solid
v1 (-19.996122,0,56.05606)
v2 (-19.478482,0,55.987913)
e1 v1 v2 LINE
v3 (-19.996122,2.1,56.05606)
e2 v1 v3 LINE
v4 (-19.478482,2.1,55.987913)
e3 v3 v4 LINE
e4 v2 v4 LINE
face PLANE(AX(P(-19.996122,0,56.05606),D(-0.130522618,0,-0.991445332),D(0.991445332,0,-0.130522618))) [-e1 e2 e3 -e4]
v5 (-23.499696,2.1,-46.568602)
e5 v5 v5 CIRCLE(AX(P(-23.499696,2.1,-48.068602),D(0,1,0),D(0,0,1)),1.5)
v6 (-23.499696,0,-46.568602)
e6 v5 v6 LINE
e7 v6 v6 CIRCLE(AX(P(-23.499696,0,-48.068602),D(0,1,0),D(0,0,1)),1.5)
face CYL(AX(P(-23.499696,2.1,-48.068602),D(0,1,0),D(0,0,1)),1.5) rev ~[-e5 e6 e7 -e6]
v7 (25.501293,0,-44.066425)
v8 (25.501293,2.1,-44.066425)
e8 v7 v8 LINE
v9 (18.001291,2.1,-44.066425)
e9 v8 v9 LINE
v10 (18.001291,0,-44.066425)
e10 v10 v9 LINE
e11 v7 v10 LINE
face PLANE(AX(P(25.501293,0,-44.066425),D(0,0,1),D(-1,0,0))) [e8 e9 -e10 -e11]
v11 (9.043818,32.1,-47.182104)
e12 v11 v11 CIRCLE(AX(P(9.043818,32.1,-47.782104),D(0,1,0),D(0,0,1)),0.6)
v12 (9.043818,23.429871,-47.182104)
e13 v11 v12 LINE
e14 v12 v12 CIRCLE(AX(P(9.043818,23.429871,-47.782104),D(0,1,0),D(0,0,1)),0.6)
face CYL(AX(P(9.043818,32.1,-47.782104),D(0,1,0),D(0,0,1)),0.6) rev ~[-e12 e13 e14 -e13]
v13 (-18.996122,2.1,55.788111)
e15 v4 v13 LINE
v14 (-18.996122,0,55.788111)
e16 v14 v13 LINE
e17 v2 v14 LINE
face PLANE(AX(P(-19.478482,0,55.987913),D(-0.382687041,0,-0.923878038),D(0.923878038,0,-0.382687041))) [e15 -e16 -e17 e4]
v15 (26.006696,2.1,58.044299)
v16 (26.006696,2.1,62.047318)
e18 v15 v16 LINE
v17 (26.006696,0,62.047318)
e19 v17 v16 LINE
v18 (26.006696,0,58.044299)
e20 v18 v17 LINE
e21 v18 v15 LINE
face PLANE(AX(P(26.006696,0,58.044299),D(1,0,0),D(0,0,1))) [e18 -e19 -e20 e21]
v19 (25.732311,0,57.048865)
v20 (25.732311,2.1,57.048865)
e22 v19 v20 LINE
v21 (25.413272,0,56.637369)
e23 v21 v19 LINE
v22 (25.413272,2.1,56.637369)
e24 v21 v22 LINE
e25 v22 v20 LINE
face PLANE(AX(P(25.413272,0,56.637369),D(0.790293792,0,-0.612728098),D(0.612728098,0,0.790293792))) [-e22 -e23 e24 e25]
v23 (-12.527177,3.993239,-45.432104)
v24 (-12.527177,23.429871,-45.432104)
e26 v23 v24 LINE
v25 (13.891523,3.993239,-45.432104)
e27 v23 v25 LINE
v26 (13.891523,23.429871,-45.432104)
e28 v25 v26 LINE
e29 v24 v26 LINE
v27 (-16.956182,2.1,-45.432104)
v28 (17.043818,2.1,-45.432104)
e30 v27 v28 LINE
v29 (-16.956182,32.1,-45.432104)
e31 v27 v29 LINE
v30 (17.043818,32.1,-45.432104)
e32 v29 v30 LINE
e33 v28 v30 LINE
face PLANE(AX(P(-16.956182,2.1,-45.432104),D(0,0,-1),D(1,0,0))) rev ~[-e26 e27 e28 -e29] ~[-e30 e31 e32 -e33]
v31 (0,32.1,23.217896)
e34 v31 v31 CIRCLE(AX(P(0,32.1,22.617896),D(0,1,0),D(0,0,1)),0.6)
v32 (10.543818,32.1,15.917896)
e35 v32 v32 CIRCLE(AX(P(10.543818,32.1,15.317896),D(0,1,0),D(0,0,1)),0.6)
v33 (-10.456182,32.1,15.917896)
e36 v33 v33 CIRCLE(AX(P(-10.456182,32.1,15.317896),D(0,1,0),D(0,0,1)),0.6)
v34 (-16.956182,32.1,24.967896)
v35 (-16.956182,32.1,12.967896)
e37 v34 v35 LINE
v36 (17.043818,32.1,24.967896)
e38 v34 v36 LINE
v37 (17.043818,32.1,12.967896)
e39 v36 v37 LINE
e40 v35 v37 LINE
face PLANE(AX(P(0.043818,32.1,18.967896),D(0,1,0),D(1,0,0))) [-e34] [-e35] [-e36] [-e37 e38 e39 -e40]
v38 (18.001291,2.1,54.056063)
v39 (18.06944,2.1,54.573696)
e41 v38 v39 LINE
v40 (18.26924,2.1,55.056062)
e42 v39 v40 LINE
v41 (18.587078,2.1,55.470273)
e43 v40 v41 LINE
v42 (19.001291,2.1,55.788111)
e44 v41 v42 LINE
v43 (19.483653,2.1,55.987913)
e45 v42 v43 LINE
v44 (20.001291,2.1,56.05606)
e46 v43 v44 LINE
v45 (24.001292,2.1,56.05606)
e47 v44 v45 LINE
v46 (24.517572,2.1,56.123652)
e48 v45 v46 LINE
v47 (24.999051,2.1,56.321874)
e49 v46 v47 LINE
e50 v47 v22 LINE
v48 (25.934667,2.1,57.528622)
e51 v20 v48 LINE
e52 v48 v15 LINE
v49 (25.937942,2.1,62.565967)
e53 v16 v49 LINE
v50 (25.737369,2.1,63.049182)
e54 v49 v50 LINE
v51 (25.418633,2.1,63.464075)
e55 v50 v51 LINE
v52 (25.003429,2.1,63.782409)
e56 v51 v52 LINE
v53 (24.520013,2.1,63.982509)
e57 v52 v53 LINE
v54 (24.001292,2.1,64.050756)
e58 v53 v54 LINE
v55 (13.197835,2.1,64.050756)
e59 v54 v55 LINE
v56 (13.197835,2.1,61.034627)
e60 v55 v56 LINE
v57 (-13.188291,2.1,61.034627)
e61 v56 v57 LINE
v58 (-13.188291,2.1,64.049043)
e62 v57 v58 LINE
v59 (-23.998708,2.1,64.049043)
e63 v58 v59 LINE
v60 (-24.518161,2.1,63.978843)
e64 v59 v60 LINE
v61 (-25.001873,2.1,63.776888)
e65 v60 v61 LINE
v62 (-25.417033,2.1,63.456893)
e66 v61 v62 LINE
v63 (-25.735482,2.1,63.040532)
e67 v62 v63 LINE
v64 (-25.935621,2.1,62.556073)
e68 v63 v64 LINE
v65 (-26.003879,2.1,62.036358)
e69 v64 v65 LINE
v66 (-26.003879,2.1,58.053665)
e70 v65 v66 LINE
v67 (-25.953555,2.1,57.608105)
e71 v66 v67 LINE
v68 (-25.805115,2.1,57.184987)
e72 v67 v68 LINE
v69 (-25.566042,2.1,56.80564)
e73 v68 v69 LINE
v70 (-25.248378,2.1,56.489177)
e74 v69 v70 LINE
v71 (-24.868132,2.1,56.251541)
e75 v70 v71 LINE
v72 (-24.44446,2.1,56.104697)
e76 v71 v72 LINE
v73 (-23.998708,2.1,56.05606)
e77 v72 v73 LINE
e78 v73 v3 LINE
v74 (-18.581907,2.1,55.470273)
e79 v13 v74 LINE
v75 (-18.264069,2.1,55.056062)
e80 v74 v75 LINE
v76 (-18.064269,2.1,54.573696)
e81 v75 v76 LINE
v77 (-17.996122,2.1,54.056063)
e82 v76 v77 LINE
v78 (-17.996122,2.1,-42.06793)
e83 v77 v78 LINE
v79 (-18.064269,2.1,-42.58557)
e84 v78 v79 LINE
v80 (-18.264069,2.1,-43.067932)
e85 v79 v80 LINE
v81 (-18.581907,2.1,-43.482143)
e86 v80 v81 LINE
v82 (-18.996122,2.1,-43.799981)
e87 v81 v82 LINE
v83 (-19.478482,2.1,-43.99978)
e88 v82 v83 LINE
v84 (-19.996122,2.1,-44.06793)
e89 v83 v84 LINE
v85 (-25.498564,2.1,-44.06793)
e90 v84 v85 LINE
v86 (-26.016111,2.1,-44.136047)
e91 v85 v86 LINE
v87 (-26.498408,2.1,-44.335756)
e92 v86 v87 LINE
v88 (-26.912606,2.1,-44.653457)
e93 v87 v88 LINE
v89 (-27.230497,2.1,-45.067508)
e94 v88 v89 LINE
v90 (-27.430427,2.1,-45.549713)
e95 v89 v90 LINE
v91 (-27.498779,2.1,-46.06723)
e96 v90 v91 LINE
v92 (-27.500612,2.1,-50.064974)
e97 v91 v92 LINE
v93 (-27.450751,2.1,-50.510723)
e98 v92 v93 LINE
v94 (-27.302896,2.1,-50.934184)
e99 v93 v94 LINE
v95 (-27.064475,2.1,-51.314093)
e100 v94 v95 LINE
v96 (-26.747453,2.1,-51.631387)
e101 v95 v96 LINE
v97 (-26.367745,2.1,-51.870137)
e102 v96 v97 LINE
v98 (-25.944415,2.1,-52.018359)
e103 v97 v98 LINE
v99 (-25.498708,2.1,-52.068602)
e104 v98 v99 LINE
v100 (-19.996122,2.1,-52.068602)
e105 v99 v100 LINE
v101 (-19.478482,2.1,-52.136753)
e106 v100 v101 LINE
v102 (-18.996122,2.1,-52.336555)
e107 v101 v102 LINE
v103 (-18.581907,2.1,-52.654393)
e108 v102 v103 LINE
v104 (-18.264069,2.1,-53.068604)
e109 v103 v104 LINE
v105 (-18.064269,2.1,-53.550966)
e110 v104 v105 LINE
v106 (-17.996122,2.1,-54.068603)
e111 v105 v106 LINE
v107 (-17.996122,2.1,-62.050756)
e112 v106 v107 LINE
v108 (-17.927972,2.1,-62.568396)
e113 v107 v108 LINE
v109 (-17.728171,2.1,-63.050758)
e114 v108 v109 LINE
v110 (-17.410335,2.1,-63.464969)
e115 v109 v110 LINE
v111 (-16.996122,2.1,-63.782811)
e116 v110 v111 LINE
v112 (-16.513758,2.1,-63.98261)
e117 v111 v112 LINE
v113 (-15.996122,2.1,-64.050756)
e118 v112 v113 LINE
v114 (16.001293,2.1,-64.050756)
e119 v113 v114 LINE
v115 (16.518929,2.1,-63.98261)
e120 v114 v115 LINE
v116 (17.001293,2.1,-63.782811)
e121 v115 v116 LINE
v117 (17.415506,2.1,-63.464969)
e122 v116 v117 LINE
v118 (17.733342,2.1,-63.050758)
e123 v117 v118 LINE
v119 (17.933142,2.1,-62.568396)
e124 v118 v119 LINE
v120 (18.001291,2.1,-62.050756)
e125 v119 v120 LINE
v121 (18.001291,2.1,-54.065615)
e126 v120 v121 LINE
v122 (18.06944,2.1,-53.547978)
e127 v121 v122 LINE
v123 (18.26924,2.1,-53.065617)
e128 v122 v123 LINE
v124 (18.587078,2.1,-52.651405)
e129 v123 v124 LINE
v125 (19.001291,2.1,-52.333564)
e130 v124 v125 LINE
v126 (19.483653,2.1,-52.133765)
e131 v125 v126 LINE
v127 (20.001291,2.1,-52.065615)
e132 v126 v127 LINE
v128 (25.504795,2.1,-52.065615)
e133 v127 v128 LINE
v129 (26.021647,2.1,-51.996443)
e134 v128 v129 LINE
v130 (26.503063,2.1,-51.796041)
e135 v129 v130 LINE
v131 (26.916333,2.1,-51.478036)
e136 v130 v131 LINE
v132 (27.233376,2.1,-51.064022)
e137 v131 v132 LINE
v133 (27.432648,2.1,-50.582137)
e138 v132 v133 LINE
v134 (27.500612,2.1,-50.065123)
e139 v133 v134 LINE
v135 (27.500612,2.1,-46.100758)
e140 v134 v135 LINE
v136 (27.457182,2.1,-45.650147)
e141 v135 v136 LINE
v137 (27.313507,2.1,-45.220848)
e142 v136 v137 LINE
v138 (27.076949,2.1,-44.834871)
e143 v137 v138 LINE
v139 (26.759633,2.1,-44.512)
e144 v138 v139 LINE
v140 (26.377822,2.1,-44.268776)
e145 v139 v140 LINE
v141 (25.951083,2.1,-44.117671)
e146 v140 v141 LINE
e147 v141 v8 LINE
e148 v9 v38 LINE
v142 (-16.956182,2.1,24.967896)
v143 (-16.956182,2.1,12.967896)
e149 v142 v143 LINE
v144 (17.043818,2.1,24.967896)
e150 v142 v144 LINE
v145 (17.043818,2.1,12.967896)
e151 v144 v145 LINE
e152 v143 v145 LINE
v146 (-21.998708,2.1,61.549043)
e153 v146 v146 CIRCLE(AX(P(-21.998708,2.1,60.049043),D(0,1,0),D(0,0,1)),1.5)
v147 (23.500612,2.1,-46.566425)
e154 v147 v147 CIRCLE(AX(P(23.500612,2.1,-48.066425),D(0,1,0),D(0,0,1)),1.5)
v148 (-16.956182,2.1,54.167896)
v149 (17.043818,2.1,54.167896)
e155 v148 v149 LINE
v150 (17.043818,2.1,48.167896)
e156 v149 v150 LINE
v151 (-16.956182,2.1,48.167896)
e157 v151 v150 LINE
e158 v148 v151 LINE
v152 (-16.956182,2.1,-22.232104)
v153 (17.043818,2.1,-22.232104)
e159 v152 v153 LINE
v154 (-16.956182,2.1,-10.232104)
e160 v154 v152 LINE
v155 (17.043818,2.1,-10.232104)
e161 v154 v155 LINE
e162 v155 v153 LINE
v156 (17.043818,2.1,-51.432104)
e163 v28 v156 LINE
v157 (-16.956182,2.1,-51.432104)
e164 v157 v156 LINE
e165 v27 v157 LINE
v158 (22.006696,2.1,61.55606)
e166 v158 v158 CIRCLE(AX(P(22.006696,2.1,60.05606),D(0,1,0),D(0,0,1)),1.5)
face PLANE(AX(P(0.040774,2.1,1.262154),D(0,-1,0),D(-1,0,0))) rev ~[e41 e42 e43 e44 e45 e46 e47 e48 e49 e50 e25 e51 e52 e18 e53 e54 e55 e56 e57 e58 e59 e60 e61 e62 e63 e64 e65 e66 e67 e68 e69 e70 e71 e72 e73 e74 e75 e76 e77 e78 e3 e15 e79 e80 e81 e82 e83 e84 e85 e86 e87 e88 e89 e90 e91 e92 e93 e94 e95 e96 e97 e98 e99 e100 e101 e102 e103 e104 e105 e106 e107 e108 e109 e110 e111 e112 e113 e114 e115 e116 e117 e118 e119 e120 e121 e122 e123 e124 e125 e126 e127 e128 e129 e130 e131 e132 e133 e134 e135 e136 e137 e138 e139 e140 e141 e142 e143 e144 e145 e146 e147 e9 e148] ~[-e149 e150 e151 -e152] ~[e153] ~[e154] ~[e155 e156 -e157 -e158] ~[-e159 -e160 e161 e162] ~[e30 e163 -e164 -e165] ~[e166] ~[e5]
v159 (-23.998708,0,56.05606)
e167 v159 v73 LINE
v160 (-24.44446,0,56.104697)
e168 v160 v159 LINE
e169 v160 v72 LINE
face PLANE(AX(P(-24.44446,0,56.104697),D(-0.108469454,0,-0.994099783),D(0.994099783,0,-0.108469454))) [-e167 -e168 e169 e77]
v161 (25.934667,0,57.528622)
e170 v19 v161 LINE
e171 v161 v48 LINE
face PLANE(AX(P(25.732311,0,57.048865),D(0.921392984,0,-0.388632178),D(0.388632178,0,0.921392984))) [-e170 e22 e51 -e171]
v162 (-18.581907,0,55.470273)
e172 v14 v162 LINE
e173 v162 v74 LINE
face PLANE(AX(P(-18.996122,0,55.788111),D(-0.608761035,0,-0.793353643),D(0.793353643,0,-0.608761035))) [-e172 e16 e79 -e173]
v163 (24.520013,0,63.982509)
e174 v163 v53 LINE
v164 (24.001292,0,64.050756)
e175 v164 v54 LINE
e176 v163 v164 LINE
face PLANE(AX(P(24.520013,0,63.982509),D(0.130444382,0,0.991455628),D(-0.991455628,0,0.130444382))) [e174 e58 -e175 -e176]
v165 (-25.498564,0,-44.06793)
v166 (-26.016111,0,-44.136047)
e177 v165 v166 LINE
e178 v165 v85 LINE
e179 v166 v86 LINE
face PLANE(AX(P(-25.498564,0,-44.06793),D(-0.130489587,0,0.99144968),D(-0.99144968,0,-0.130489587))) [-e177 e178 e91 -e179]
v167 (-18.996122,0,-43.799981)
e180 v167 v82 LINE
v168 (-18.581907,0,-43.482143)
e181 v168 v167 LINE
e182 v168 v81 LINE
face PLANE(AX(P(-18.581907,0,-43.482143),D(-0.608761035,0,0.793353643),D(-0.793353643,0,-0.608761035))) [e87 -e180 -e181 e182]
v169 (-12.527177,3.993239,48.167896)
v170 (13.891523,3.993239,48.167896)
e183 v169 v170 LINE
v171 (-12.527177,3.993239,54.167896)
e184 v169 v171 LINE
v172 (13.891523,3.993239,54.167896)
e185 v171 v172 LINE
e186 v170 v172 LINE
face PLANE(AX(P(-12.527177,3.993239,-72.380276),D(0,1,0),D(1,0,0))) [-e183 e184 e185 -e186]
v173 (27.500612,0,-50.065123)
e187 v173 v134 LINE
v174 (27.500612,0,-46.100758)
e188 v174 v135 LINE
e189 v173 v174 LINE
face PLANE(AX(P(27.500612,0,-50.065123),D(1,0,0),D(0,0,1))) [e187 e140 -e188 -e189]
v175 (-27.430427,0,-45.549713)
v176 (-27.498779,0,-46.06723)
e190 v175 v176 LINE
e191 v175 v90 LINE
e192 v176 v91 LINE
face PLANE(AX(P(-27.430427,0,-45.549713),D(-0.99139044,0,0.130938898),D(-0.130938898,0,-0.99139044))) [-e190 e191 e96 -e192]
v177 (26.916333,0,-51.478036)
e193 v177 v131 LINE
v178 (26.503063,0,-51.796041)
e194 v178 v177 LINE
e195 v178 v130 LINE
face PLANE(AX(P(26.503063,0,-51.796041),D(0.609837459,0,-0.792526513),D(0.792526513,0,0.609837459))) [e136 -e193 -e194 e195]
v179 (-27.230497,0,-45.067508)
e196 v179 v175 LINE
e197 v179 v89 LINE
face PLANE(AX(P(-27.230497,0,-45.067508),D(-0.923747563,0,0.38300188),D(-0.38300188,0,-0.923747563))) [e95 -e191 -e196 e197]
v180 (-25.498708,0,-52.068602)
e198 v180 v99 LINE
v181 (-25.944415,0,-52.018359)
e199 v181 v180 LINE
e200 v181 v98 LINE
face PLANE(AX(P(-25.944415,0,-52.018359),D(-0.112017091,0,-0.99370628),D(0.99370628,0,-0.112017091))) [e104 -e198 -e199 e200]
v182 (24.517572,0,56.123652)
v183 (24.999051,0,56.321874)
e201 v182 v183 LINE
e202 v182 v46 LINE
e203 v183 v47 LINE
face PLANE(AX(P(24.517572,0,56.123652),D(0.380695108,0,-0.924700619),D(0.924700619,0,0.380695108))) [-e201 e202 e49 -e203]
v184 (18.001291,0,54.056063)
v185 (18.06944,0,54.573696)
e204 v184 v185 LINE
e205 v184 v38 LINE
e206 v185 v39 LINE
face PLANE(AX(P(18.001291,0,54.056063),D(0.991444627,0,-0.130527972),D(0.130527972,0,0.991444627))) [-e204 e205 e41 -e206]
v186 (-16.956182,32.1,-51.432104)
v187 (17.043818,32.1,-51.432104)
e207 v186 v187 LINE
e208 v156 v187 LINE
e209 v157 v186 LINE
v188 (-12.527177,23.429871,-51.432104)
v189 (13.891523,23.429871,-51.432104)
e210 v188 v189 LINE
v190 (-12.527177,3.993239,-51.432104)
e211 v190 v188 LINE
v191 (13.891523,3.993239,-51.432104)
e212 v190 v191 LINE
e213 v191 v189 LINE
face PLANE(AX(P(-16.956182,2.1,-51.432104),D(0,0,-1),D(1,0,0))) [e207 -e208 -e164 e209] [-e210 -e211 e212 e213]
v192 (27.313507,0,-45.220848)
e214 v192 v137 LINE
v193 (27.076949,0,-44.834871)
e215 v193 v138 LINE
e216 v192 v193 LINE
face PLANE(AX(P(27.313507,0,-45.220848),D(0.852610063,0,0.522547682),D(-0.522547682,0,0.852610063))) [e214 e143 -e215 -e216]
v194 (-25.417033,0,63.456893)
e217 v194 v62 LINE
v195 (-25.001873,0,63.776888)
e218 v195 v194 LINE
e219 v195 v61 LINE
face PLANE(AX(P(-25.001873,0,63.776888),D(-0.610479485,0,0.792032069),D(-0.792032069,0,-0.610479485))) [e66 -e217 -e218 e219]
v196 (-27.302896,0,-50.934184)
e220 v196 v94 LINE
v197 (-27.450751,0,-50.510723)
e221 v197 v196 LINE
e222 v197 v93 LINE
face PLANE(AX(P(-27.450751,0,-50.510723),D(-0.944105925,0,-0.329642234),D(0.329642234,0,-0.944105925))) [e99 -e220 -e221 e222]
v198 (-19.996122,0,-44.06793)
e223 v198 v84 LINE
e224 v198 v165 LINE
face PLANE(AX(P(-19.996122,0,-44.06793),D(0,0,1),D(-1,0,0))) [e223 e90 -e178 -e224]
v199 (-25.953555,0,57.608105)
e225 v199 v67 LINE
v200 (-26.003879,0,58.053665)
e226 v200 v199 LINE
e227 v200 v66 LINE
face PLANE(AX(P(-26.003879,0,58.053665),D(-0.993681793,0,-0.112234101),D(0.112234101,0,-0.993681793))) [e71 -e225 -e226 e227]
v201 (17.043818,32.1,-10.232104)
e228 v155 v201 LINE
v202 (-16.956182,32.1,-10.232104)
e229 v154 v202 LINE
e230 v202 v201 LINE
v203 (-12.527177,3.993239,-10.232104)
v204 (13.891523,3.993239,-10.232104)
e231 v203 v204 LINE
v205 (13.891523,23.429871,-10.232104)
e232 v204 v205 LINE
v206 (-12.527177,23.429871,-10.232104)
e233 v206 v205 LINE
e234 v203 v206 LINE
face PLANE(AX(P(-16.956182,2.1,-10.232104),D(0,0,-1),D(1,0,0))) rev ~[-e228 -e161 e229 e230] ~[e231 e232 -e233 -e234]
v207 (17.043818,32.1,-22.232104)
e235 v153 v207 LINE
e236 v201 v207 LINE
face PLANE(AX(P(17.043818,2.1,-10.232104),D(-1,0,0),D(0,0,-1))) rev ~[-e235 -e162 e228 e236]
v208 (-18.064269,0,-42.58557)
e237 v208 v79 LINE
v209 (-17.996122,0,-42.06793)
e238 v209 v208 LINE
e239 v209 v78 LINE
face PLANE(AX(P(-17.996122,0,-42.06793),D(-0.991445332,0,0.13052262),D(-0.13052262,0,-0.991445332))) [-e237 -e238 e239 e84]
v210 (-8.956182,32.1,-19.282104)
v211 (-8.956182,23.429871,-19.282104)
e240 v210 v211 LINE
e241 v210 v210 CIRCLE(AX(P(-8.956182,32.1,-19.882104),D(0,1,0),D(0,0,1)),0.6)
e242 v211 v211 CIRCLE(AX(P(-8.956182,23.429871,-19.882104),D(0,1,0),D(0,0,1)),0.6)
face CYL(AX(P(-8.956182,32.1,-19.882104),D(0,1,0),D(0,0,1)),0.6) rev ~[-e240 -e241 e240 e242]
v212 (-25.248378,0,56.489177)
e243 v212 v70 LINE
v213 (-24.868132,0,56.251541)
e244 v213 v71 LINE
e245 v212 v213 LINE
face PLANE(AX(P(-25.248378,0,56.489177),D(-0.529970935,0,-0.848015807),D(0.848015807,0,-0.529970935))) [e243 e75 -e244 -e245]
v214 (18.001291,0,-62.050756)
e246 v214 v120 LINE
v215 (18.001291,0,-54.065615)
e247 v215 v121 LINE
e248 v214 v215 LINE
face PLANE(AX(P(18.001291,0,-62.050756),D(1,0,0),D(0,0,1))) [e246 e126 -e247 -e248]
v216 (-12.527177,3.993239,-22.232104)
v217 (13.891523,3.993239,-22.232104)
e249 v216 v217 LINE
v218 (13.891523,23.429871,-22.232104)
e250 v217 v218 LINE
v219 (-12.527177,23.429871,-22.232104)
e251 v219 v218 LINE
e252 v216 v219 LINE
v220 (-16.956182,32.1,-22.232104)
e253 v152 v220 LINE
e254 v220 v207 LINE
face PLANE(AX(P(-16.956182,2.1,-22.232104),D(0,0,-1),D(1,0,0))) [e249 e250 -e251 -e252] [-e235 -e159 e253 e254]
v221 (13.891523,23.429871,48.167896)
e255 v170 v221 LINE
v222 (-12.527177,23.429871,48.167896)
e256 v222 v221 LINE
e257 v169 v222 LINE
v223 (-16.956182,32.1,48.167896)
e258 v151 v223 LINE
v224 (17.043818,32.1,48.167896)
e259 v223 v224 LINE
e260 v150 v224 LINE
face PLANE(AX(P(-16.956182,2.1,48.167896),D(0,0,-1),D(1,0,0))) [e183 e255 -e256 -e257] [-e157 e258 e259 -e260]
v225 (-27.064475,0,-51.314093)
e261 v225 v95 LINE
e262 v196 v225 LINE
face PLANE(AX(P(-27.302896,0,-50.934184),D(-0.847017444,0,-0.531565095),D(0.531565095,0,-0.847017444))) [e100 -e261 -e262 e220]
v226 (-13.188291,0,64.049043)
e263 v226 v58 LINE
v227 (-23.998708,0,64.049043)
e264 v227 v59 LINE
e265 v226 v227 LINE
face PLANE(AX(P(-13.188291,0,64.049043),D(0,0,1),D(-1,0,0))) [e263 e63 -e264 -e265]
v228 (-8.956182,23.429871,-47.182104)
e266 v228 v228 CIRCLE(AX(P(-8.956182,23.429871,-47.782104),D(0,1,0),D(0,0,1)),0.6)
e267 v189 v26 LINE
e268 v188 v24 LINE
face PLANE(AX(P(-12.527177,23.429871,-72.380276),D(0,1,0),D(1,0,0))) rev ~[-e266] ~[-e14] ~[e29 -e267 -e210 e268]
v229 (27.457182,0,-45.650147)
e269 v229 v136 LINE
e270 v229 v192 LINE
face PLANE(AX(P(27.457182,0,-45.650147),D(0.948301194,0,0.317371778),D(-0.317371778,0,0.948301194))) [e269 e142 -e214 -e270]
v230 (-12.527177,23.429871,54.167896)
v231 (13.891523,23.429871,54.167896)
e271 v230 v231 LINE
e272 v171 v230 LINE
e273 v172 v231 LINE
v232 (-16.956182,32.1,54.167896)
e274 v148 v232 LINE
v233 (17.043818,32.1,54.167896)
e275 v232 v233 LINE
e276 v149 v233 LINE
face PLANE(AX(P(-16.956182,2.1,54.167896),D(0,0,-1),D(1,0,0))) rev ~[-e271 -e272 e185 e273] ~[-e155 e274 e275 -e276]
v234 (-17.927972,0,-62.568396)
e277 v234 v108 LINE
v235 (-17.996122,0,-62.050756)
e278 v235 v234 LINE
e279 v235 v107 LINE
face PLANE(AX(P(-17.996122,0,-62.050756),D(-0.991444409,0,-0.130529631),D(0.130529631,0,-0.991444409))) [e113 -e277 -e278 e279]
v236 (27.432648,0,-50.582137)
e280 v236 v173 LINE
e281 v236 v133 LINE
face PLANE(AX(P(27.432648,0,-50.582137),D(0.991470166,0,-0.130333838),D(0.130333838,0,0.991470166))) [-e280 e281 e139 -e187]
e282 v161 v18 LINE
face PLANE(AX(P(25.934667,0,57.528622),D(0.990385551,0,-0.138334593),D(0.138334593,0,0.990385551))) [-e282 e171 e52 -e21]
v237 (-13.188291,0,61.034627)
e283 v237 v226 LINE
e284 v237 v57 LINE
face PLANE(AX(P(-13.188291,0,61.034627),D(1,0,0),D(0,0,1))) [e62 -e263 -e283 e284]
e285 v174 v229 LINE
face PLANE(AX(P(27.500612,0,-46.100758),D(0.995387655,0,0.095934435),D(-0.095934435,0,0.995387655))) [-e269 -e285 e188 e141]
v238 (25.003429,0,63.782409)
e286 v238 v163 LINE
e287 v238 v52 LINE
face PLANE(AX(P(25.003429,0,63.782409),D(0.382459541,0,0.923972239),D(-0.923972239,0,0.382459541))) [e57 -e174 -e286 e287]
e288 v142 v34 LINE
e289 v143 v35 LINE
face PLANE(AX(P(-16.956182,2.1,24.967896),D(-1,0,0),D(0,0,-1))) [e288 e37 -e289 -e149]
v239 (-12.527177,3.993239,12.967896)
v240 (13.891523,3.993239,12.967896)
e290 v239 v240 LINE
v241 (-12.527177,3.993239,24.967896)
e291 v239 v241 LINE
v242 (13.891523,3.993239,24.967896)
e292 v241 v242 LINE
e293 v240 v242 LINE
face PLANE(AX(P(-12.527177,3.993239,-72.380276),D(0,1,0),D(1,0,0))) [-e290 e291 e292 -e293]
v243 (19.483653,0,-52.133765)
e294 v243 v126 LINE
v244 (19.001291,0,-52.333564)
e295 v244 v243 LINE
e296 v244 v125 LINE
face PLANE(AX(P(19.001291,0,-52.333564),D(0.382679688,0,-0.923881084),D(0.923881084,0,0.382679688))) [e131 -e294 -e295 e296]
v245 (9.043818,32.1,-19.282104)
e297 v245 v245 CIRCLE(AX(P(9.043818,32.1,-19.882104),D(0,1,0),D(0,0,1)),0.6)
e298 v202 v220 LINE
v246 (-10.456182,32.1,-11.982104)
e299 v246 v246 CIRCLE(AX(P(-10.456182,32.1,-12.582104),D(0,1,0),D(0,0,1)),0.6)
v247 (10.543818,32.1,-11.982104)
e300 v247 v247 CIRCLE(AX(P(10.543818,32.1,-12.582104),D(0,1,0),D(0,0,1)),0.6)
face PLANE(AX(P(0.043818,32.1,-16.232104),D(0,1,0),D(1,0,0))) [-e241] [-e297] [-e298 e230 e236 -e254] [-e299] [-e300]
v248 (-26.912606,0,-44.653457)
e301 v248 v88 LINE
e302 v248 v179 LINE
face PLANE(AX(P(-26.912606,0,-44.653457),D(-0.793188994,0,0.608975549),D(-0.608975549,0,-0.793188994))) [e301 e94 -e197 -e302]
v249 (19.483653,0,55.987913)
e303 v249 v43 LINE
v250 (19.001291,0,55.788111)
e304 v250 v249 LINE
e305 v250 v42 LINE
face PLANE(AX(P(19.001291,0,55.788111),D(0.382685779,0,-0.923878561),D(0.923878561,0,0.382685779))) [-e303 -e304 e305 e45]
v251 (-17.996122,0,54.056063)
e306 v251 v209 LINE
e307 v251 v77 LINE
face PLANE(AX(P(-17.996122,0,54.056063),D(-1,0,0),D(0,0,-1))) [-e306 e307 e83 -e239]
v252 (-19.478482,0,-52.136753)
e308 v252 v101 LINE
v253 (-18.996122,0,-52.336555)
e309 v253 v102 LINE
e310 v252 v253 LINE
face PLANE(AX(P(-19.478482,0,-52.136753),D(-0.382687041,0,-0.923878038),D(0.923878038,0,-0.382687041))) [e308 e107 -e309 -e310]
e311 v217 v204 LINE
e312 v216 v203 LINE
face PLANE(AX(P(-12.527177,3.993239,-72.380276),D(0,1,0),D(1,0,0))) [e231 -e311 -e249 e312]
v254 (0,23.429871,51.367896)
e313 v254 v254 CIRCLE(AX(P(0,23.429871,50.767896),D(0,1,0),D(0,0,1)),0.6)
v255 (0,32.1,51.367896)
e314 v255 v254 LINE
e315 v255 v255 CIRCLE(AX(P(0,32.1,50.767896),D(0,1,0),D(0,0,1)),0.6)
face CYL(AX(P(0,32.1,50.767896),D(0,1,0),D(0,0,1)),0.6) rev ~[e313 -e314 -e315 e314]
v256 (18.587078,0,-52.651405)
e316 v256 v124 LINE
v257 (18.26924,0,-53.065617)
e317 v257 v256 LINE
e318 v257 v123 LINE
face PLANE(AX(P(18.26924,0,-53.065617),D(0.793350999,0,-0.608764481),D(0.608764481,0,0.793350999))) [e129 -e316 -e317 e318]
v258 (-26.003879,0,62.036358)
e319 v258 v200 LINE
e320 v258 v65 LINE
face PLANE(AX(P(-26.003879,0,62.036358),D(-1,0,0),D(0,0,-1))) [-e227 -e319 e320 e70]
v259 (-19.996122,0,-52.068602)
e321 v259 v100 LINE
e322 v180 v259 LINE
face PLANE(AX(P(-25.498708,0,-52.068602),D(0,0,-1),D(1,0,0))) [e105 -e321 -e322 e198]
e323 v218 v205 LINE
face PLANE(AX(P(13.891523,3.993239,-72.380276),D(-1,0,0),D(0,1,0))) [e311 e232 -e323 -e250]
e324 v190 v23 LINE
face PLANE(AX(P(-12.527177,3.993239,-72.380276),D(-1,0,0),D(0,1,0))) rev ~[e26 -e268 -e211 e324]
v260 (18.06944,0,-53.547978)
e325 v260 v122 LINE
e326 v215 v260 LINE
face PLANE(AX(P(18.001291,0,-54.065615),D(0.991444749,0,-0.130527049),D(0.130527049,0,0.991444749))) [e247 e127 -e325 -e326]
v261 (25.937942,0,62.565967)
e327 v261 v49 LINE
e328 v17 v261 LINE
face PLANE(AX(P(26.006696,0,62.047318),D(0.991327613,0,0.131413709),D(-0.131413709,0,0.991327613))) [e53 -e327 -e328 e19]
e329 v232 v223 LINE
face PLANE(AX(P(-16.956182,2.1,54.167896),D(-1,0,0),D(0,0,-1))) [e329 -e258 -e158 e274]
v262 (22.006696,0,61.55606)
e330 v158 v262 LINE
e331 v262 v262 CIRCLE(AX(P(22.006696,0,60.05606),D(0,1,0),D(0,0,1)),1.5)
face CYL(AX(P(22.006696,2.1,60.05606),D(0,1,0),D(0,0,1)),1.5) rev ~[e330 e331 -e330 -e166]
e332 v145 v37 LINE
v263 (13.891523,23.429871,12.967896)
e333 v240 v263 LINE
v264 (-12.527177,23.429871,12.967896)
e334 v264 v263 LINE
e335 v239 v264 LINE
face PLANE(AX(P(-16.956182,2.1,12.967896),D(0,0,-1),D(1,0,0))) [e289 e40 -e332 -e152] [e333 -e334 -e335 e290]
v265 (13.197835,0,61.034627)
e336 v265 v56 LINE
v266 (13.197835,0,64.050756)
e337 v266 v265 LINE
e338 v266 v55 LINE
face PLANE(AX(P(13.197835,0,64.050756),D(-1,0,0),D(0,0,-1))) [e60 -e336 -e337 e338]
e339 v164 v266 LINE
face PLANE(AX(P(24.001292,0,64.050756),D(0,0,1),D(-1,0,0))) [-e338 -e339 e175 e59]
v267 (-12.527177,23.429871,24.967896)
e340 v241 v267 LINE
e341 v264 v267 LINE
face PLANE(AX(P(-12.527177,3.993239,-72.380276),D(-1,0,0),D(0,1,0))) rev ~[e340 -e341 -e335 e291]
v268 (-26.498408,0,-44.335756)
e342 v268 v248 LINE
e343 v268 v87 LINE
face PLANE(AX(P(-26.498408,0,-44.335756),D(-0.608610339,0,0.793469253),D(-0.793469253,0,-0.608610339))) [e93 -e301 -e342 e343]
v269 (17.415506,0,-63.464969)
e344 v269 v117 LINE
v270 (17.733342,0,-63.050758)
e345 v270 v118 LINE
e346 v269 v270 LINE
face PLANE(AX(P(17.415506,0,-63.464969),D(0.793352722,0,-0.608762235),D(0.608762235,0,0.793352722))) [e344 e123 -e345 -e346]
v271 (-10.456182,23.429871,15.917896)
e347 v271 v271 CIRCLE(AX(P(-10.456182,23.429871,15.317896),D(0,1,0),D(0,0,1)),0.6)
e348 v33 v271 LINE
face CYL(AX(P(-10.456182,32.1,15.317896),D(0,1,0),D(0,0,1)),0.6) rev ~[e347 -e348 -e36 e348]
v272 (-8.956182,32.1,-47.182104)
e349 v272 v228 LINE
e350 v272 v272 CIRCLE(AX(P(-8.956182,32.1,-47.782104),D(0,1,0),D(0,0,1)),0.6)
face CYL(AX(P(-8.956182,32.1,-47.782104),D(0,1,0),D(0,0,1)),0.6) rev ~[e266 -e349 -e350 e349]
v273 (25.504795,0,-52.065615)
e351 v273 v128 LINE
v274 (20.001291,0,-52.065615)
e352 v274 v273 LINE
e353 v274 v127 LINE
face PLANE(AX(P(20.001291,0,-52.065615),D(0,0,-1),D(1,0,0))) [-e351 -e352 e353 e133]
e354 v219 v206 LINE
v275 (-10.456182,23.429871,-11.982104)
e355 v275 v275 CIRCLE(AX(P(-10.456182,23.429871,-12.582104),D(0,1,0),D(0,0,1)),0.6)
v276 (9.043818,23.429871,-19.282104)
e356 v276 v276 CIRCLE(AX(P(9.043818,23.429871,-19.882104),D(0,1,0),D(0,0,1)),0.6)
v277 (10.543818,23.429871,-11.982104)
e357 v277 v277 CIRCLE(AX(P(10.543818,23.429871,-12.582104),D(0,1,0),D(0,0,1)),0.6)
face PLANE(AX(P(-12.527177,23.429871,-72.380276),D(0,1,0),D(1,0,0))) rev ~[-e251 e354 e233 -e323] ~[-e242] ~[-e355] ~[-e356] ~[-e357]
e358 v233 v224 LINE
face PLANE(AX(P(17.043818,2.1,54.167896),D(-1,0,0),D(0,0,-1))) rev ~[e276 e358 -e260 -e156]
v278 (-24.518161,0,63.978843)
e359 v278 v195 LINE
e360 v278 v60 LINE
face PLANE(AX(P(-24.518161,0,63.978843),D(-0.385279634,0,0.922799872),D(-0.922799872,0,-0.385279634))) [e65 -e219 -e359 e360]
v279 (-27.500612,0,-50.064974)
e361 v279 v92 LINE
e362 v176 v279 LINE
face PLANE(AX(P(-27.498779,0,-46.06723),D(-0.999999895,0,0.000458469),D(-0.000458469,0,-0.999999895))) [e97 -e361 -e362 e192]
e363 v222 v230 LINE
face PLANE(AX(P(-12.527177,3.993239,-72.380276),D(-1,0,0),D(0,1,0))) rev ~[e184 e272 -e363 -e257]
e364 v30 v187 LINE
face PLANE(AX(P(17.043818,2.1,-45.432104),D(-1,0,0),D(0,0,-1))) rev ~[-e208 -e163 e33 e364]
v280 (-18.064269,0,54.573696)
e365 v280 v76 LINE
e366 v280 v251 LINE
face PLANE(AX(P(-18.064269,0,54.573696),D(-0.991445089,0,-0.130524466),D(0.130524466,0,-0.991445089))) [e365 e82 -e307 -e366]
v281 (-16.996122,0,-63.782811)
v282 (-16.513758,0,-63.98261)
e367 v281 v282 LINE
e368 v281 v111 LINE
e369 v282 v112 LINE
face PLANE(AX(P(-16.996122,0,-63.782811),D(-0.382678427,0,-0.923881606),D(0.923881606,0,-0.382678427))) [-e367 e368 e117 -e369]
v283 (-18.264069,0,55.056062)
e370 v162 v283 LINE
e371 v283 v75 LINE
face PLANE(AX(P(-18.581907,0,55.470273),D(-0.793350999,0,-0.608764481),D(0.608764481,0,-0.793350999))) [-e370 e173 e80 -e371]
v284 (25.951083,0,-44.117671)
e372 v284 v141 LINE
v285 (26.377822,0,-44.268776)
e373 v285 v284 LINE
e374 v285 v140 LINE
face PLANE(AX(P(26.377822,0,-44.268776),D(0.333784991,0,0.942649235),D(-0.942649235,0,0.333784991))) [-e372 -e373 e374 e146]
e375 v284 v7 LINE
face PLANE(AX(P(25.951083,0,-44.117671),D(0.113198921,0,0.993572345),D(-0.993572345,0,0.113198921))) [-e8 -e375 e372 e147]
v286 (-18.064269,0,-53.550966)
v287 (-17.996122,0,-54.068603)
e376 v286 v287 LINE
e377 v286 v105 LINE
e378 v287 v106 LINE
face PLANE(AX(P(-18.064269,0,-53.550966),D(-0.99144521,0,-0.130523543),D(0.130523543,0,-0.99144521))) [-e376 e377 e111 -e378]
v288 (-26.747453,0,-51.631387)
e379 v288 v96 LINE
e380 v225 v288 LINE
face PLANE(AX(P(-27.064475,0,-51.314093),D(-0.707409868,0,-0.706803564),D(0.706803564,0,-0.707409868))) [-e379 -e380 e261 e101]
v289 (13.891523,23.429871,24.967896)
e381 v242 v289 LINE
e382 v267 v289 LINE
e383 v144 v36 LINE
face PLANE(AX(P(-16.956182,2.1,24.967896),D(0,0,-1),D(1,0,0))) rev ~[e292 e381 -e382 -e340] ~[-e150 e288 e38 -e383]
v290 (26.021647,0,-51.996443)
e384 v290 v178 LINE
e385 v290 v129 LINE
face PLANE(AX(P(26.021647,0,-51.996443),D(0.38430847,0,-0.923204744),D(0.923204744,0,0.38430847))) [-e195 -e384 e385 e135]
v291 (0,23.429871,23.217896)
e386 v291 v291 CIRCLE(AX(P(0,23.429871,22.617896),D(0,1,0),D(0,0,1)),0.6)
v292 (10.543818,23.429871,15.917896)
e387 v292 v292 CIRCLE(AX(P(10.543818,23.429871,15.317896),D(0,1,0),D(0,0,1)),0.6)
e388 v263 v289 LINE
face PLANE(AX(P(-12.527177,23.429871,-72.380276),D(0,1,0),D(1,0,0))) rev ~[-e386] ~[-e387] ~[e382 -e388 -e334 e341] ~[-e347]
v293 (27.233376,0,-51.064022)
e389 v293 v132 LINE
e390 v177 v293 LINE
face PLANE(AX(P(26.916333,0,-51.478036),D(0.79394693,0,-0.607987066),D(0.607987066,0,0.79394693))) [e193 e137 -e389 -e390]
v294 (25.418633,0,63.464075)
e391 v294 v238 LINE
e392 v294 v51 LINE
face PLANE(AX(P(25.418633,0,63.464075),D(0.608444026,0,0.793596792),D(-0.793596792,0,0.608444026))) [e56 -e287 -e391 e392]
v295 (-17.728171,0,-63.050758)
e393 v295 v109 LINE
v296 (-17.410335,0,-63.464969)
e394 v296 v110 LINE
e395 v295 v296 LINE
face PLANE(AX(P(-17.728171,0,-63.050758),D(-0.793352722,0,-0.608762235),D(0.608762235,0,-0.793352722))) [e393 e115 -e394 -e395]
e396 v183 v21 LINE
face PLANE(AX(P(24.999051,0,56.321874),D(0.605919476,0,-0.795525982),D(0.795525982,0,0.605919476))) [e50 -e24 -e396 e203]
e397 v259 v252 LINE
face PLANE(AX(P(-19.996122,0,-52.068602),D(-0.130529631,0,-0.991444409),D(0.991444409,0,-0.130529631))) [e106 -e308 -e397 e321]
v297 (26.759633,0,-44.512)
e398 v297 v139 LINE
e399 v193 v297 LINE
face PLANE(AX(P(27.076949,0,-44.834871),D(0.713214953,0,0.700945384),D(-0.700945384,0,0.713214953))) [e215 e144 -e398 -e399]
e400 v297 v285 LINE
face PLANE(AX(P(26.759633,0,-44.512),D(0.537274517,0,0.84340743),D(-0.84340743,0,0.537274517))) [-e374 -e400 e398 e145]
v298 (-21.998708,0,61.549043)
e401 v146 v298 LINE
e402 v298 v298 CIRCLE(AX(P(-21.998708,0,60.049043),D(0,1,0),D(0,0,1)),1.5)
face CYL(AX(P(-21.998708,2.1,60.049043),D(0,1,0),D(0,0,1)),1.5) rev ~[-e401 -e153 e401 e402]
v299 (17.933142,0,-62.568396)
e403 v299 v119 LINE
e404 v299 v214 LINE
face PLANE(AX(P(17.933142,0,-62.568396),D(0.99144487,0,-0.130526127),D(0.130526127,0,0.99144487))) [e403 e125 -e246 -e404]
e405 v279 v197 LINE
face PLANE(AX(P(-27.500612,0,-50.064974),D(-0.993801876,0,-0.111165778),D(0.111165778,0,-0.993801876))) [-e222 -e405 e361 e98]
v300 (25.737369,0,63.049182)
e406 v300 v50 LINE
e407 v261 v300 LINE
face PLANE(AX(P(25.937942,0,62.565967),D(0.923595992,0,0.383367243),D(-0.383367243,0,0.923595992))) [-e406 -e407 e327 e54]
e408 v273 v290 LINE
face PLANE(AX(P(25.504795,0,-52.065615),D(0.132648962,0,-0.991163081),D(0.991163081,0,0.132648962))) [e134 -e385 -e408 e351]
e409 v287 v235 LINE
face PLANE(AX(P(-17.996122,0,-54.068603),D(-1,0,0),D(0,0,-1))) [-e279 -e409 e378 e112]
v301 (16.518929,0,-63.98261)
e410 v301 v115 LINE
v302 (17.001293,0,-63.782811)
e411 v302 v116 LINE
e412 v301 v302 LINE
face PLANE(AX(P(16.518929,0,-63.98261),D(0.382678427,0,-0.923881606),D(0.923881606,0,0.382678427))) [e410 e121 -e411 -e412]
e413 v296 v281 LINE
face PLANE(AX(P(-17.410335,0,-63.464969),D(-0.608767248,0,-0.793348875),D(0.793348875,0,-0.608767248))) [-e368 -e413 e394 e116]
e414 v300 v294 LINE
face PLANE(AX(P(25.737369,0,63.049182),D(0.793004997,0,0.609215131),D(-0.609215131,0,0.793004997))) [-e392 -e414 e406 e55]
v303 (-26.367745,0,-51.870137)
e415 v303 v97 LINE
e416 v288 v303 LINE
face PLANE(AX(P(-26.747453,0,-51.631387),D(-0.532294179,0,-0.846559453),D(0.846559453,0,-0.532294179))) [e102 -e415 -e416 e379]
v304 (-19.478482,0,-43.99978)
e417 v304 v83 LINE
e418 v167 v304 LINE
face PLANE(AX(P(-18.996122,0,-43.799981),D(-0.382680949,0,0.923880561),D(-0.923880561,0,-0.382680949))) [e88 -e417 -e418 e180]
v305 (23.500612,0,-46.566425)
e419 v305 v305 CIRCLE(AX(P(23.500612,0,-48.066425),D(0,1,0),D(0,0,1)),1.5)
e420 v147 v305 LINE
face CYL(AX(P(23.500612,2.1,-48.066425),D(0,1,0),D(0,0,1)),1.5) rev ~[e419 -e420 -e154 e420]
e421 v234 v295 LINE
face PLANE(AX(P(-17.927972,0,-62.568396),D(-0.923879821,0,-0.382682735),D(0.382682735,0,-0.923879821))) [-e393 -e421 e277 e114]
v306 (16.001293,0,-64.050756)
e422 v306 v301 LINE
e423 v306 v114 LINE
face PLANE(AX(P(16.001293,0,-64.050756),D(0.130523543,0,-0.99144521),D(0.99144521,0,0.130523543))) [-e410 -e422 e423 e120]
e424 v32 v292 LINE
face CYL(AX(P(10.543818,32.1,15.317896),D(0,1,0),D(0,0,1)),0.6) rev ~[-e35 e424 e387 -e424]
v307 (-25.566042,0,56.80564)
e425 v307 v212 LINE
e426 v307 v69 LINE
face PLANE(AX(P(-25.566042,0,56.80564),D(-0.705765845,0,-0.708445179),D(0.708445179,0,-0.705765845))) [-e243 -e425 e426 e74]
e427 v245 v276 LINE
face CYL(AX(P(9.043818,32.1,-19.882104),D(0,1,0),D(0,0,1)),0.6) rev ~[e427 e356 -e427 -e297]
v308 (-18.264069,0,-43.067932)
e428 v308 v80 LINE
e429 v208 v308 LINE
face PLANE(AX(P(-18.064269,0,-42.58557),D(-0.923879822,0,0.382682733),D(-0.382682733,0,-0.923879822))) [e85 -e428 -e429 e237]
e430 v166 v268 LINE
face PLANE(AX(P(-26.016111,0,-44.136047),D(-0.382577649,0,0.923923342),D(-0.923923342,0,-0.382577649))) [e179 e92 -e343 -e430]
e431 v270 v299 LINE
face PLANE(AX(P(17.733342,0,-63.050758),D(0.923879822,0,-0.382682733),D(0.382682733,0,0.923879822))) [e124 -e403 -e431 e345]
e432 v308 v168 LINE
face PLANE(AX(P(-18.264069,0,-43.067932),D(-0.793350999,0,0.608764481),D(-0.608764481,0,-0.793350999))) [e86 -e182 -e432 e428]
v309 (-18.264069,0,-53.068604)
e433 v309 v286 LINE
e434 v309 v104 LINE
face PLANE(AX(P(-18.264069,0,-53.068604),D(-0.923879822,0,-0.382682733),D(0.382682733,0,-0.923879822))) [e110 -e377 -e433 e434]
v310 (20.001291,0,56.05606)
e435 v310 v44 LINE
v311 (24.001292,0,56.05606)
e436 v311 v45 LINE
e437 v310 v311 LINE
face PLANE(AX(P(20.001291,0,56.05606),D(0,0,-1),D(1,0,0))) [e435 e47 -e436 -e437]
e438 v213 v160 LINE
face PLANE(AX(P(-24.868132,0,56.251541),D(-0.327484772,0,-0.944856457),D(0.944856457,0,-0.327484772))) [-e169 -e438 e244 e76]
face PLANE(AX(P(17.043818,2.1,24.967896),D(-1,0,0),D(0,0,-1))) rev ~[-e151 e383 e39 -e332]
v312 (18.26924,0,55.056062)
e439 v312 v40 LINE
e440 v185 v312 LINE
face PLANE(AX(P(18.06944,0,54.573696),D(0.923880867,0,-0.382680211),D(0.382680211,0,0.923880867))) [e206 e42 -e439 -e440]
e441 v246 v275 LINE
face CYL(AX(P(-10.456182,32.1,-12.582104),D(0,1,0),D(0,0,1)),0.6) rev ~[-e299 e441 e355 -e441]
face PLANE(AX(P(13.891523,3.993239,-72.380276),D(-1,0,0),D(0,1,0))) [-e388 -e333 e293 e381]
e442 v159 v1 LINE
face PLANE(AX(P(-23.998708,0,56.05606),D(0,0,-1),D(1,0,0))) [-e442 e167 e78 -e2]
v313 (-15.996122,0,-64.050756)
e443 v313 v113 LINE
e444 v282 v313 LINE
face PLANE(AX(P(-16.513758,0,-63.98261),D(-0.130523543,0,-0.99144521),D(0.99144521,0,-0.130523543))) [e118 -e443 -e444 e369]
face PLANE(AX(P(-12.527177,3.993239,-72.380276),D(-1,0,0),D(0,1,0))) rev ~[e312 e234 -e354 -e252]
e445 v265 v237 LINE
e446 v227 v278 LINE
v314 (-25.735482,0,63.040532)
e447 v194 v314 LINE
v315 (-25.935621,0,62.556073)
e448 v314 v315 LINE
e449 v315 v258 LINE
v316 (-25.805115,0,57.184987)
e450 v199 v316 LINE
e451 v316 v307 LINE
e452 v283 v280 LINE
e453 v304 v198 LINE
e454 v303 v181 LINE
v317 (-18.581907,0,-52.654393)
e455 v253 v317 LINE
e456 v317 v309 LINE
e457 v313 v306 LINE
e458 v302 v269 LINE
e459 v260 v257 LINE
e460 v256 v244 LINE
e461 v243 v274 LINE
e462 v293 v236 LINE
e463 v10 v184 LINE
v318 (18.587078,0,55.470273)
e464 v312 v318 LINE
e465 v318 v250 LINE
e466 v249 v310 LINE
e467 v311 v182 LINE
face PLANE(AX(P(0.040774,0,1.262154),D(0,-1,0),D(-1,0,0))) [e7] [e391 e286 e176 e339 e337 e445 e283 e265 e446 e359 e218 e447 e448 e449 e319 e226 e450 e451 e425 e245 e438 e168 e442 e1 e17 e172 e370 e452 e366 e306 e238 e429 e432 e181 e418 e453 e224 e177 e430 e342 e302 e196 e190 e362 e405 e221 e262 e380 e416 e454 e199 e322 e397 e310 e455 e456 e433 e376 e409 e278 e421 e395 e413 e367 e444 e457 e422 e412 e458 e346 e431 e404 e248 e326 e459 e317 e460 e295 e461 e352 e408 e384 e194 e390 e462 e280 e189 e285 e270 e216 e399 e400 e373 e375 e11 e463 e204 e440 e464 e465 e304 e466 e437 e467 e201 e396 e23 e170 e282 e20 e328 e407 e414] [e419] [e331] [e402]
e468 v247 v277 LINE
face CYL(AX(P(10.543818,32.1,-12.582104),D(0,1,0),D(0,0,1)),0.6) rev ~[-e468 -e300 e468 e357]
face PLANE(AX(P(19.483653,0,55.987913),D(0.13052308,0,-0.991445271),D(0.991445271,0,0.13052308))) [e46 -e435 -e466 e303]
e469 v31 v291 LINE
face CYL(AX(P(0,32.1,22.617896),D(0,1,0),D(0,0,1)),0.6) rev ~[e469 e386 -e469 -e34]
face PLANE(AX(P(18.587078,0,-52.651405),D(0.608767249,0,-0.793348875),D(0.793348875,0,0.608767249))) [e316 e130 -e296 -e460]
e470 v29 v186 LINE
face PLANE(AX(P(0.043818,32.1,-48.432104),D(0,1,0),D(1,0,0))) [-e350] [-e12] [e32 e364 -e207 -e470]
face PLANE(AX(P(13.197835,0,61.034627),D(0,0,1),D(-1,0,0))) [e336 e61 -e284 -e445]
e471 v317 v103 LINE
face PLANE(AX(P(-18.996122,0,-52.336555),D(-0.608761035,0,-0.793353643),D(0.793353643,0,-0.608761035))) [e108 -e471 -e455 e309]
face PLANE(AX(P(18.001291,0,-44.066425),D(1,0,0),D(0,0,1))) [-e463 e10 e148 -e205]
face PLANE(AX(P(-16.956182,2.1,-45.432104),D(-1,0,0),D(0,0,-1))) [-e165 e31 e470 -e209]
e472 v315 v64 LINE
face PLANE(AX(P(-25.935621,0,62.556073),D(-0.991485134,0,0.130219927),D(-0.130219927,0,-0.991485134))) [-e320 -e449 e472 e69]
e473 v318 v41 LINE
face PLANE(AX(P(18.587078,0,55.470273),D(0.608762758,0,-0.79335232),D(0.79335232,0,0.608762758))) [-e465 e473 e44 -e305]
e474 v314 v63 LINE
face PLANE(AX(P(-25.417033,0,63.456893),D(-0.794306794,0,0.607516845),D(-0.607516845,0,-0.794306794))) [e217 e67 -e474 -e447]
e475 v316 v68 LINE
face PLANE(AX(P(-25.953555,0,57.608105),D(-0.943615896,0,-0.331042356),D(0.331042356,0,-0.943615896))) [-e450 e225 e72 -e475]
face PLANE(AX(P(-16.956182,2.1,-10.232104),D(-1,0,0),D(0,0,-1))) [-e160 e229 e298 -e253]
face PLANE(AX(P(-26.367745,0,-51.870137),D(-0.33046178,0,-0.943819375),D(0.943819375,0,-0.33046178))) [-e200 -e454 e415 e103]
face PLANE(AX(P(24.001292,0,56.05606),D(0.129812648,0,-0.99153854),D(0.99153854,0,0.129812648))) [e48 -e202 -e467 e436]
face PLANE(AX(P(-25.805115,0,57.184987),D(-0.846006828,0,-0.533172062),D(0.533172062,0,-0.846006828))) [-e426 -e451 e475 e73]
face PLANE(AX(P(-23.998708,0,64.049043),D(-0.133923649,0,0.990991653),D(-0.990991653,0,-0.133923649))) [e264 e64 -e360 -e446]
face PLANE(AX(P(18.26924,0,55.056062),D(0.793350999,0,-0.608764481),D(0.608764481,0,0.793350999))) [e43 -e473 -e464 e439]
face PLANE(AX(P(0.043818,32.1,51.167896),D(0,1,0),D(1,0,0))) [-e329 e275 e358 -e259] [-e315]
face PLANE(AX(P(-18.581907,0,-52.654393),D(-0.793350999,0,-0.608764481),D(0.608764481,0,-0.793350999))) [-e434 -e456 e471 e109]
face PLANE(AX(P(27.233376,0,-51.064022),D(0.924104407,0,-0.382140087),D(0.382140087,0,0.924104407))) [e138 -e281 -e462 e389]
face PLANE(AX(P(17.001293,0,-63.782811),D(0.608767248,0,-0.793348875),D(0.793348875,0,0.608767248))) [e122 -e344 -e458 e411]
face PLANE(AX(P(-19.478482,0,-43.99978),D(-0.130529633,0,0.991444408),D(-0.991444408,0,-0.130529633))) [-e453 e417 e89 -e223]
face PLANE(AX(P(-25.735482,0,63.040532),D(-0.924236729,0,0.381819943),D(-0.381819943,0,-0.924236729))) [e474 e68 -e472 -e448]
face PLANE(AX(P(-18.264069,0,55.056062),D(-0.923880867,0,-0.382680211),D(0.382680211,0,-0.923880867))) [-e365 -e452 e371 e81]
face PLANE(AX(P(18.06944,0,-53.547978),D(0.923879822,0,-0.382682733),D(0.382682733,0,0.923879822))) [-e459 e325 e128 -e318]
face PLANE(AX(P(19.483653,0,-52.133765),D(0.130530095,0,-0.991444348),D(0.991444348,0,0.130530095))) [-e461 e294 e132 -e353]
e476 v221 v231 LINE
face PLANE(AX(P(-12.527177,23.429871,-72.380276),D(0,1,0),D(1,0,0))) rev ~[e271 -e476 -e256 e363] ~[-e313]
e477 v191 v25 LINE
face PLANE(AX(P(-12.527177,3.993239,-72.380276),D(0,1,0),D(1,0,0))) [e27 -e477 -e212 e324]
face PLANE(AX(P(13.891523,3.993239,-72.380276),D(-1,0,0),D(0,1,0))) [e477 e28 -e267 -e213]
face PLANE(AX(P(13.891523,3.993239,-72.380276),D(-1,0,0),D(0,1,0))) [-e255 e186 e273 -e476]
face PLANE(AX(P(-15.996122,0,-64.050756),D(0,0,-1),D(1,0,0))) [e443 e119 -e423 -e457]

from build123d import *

# Parameters (mm, degrees)
BOSS_EXTRUDE1_DEPTH      = 2.09999993
SKETCH2_R                = 1.5
CUT_EXTRUDE1_DEPTH       = 70.736597565
SKETCH3_R                = 1.5
CUT_EXTRUDE2_DEPTH       = 70.736597565
SKETCH4_R                = 1.5
CUT_EXTRUDE3_DEPTH       = 70.736597565
SKETCH5_R                = 1.5
CUT_EXTRUDE4_DEPTH       = 70.736597565
SKETCH7_W                = 34
SKETCH7_H                = 6
BOSS_EXTRUDE2_DEPTH      = 30
SKETCH8_W                = 34
SKETCH8_H                = 12
BOSS_EXTRUDE3_DEPTH      = 30
SKETCH9_W                = 34
SKETCH9_H                = 12
BOSS_EXTRUDE4_DEPTH      = 30
SKETCH10_W               = 34
SKETCH10_H               = 6
BOSS_EXTRUDE5_DEPTH      = 30
SKETCH11_R               = 0.6
CUT_EXTRUDE5_DEPTH       = 10
SKETCH12_R               = 0.6
CUT_EXTRUDE6_DEPTH       = 10
SKETCH14_R               = 0.6
CUT_EXTRUDE7_DEPTH       = 10
SKETCH13_R               = 0.6
CUT_EXTRUDE8_DEPTH       = 10
SKETCH16_R               = 0.6
CUT_EXTRUDE9_DEPTH       = 10
SKETCH15_R               = 0.6
CUT_EXTRUDE10_DEPTH      = 10
SKETCH17_R               = 0.6
CUT_EXTRUDE11_DEPTH      = 10
SKETCH18_R               = 0.6
CUT_EXTRUDE12_DEPTH      = 10
SKETCH20_R               = 0.6
CUT_EXTRUDE13_DEPTH      = 10
SKETCH19_R               = 0.6
CUT_EXTRUDE14_DEPTH      = 10
CUT_EXTRUDE15_DEPTH      = 126.548171577
CUT_EXTRUDE15_DEPTH_BACK = 126.548171577
SKETCH22_W               = 26.418699501
SKETCH22_H               = 19.436632357


with BuildPart() as part:
    # Sketch1 → Boss-Extrude1 (new body)
    with BuildSketch(Plane(origin=(0, 0, 0), x_dir=(1, 0, 0), z_dir=(0, 1, 0))):
        Polygon((25.50129313, 44.066425413), (18.00129097, 44.066425413), (18.00129097, -54.056063294), (18.069439568, -54.573696107), (18.269239925, -55.056061596), (18.587077968, -55.470272899), (19.001291133, -55.788110942), (19.483652897, -55.987913162), (20.001291297, -56.056059897), (24.001291953, -56.056059897), (24.517572485, -56.123651564), (24.999051355, -56.321874261), (25.413271971, -56.637369096), (25.73231142, -57.048864663), (25.934667327, -57.528622448), (26.006695814, -58.044299483), (26.006695814, -62.047317624), (25.937941857, -62.565967441), (25.737368502, -63.049182296), (25.418632664, -63.464075327), (25.003428571, -63.782408834), (24.52001255, -63.982509077), (24.001291953, -64.050756395), (13.197834603, -64.050756395), (13.197834603, -61.034627259), (-13.188291341, -61.034627259), (-13.188291341, -64.049042761), (-23.998708464, -64.049042761), (-24.518161081, -63.978843391), (-25.001873262, -63.776887953), (-25.417032652, -63.456892967), (-25.735481642, -63.040532172), (-25.935621001, -62.55607307), (-26.003879495, -62.03635782), (-26.003879495, -58.053664863), (-25.953554548, -57.608105242), (-25.805114768, -57.18498677), (-25.566042401, -56.805640459), (-25.248377584, -56.489177048), (-24.868131615, -56.25154078), (-24.444459938, -56.104697287), (-23.998708464, -56.056059897), (-19.996122457, -56.056059897), (-19.478482194, -55.987913162), (-18.996122293, -55.788110942), (-18.581907265, -55.470272899), (-18.264069222, -55.056061596), (-18.064268865, -54.573696107), (-17.996122129, -54.056063294), (-17.996122129, 42.067930102), (-18.064268865, 42.585570365), (-18.264069222, 43.067932129), (-18.581907265, 43.482143432), (-18.996122293, 43.799981475), (-19.478482194, 43.999779969), (-19.996122457, 44.06793043), (-25.498564355, 44.06793043), (-26.016111486, 44.136047363), (-26.498408057, 44.335756451), (-26.912606321, 44.653456658), (-27.230496518, 45.067507774), (-27.430427261, 45.549713075), (-27.498778887, 46.067230403), (-27.50061173, 50.064973533), (-27.450750582, 50.510723144), (-27.302895673, 50.934184343), (-27.064475231, 51.314093173), (-26.747453026, 51.631387323), (-26.367745362, 51.870137453), (-25.944414549, 52.018359303), (-25.498707779, 52.068602294), (-19.996122457, 52.068602294), (-19.478482194, 52.136752754), (-18.996122293, 52.336554974), (-18.581907265, 52.654393017), (-18.264069222, 53.06860432), (-18.064268865, 53.550966084), (-17.996122129, 54.068602622), (-17.996122129, 62.050756067), (-17.927971669, 62.56839633), (-17.728171311, 63.050758094), (-17.410335131, 63.464969397), (-16.996121965, 63.782811165), (-16.513758339, 63.982609659), (-15.996121801, 64.050756395), (16.001292504, 64.050756395), (16.518929042, 63.982609659), (17.001292668, 63.782811165), (17.415505834, 63.464969397), (17.733342014, 63.050758094), (17.933142371, 62.56839633), (18.00129097, 62.050756067), (18.00129097, 54.065614939), (18.069439568, 53.547978401), (18.269239925, 53.065616637), (18.587077968, 52.651405334), (19.001291133, 52.333563566), (19.483652897, 52.133765072), (20.001291297, 52.065614611), (25.504794903, 52.065614611), (26.021647267, 51.996443421), (26.503062807, 51.796041429), (26.916333474, 51.478035748), (27.233376168, 51.064021885), (27.432647534, 50.582136959), (27.50061173, 50.065122545), (27.50061173, 46.100758016), (27.457182296, 45.650146902), (27.313507162, 45.220848173), (27.076949365, 44.834870845), (26.759632863, 44.511999935), (26.377822272, 44.268775731), (25.951082818, 44.117670506), align=None)
    extrude(amount=BOSS_EXTRUDE1_DEPTH)

    # Sketch2 → Cut-Extrude1 (cut, through all)
    with BuildSketch(Plane(origin=(0, 2.09999993, 0), x_dir=(1, 0, 0), z_dir=(0, 1, 0))):
        with Locations(Location((-21.998708135, -60.049042761, 0), (0, 0, 270))):
            Circle(SKETCH2_R)
    extrude(amount=-CUT_EXTRUDE1_DEPTH, mode=Mode.SUBTRACT)

    # Sketch3 → Cut-Extrude2 (cut, through all)
    with BuildSketch(Plane(origin=(0, 2.09999993, 0), x_dir=(1, 0, 0), z_dir=(0, 1, 0))):
        with Locations(Location((22.006695814, -60.056059897, 0), (0, 0, 270))):
            Circle(SKETCH3_R)
    extrude(amount=-CUT_EXTRUDE2_DEPTH, mode=Mode.SUBTRACT)

    # Sketch4 → Cut-Extrude3 (cut, through all)
    with BuildSketch(Plane(origin=(0, 2.09999993, 0), x_dir=(1, 0, 0), z_dir=(0, 1, 0))):
        with Locations(Location((-23.499696034, 48.068602294, 0), (0, 0, 270))):
            Circle(SKETCH4_R)
    extrude(amount=-CUT_EXTRUDE3_DEPTH, mode=Mode.SUBTRACT)

    # Sketch5 → Cut-Extrude4 (cut, through all)
    with BuildSketch(Plane(origin=(0, 2.09999993, 0), x_dir=(1, 0, 0), z_dir=(0, 1, 0))):
        with Locations(Location((23.50061173, 48.066425413, 0), (0, 0, 270))):
            Circle(SKETCH5_R)
    extrude(amount=-CUT_EXTRUDE4_DEPTH, mode=Mode.SUBTRACT)

    # Sketch7 → Boss-Extrude2 (add)
    with BuildSketch(Plane(origin=(0, 2.09999993, 0), x_dir=(1, 0, 0), z_dir=(0, 1, 0))):
        with Locations((0.04381812, 48.432104122)):
            Rectangle(SKETCH7_W, SKETCH7_H)
    extrude(amount=BOSS_EXTRUDE2_DEPTH)

    # Sketch8 → Boss-Extrude3 (add)
    with BuildSketch(Plane(origin=(0, 2.09999993, 0), x_dir=(1, 0, 0), z_dir=(0, 1, 0))):
        with Locations((0.04381812, 16.232104122)):
            Rectangle(SKETCH8_W, SKETCH8_H)
    extrude(amount=BOSS_EXTRUDE3_DEPTH)

    # Sketch9 → Boss-Extrude4 (add)
    with BuildSketch(Plane(origin=(0, 2.09999993, 0), x_dir=(1, 0, 0), z_dir=(0, 1, 0))):
        with Locations((0.04381812, -18.967895878)):
            Rectangle(SKETCH9_W, SKETCH9_H)
    extrude(amount=BOSS_EXTRUDE4_DEPTH)

    # Sketch10 → Boss-Extrude5 (add)
    with BuildSketch(Plane(origin=(0, 2.09999993, 0), x_dir=(1, 0, 0), z_dir=(0, 1, 0))):
        with Locations((0.04381812, -51.167895878)):
            Rectangle(SKETCH10_W, SKETCH10_H)
    extrude(amount=BOSS_EXTRUDE5_DEPTH)

    # Sketch11 → Cut-Extrude5 (cut)
    with BuildSketch(Plane(origin=(0, 32.09999993, 0), x_dir=(1, 0, 0), z_dir=(0, 1, 0))):
        with Locations(Location((-8.95618188, 47.782104122, 0), (0, 0, 270))):
            Circle(SKETCH11_R)
    extrude(amount=-CUT_EXTRUDE5_DEPTH, mode=Mode.SUBTRACT)

    # Sketch12 → Cut-Extrude6 (cut)
    with BuildSketch(Plane(origin=(0, 32.09999993, 0), x_dir=(1, 0, 0), z_dir=(0, 1, 0))):
        with Locations(Location((9.04381812, 47.782104122, 0), (0, 0, 270))):
            Circle(SKETCH12_R)
    extrude(amount=-CUT_EXTRUDE6_DEPTH, mode=Mode.SUBTRACT)

    # Sketch14 → Cut-Extrude7 (cut)
    with BuildSketch(Plane(origin=(0, 32.09999993, 0), x_dir=(1, 0, 0), z_dir=(0, 1, 0))):
        with Locations(Location((9.04381812, 19.882104122, 0), (0, 0, 270))):
            Circle(SKETCH14_R)
    extrude(amount=-CUT_EXTRUDE7_DEPTH, mode=Mode.SUBTRACT)

    # Sketch13 → Cut-Extrude8 (cut)
    with BuildSketch(Plane(origin=(0, 32.09999993, 0), x_dir=(1, 0, 0), z_dir=(0, 1, 0))):
        with Locations(Location((-8.95618188, 19.882104122, 0), (0, 0, 270))):
            Circle(SKETCH13_R)
    extrude(amount=-CUT_EXTRUDE8_DEPTH, mode=Mode.SUBTRACT)

    # Sketch16 → Cut-Extrude9 (cut)
    with BuildSketch(Plane(origin=(0, 32.09999993, 0), x_dir=(1, 0, 0), z_dir=(0, 1, 0))):
        with Locations(Location((10.54381812, 12.582104122, 0), (0, 0, 270))):
            Circle(SKETCH16_R)
    extrude(amount=-CUT_EXTRUDE9_DEPTH, mode=Mode.SUBTRACT)

    # Sketch15 → Cut-Extrude10 (cut)
    with BuildSketch(Plane(origin=(0, 32.09999993, 0), x_dir=(1, 0, 0), z_dir=(0, 1, 0))):
        with Locations(Location((-10.45618188, 12.582104122, 0), (0, 0, 270))):
            Circle(SKETCH15_R)
    extrude(amount=-CUT_EXTRUDE10_DEPTH, mode=Mode.SUBTRACT)

    # Sketch17 → Cut-Extrude11 (cut)
    with BuildSketch(Plane(origin=(0, 32.09999993, 0), x_dir=(1, 0, 0), z_dir=(0, 1, 0))):
        with Locations(Location((-10.45618188, -15.317895878, 0), (0, 0, 270))):
            Circle(SKETCH17_R)
    extrude(amount=-CUT_EXTRUDE11_DEPTH, mode=Mode.SUBTRACT)

    # Sketch18 → Cut-Extrude12 (cut)
    with BuildSketch(Plane(origin=(0, 32.09999993, 0), x_dir=(1, 0, 0), z_dir=(0, 1, 0))):
        with Locations(Location((10.54381812, -15.317895878, 0), (0, 0, 270))):
            Circle(SKETCH18_R)
    extrude(amount=-CUT_EXTRUDE12_DEPTH, mode=Mode.SUBTRACT)

    # Sketch20 → Cut-Extrude13 (cut)
    with BuildSketch(Plane(origin=(0, 32.09999993, 0), x_dir=(1, 0, 0), z_dir=(0, 1, 0))):
        with Locations(Location((0, -50.767895878, 0), (0, 0, 270))):
            Circle(SKETCH20_R)
    extrude(amount=-CUT_EXTRUDE13_DEPTH, mode=Mode.SUBTRACT)

    # Sketch19 → Cut-Extrude14 (cut)
    with BuildSketch(Plane(origin=(0, 32.09999993, 0), x_dir=(1, 0, 0), z_dir=(0, 1, 0))):
        with Locations(Location((0, -22.617895878, 0), (0, 0, 270))):
            Circle(SKETCH19_R)
    extrude(amount=-CUT_EXTRUDE14_DEPTH, mode=Mode.SUBTRACT)

    # Sketch22 → Cut-Extrude15 (cut, two sides: drawn at the far end of the back side and taken through both)
    with BuildSketch(Plane.XY.offset(54.167895878).offset(-CUT_EXTRUDE15_DEPTH_BACK)):
        with Locations((0.682172991, 13.711555244)):
            Rectangle(SKETCH22_W, SKETCH22_H)
    extrude(amount=CUT_EXTRUDE15_DEPTH + CUT_EXTRUDE15_DEPTH_BACK, mode=Mode.SUBTRACT)


solid = part.part
